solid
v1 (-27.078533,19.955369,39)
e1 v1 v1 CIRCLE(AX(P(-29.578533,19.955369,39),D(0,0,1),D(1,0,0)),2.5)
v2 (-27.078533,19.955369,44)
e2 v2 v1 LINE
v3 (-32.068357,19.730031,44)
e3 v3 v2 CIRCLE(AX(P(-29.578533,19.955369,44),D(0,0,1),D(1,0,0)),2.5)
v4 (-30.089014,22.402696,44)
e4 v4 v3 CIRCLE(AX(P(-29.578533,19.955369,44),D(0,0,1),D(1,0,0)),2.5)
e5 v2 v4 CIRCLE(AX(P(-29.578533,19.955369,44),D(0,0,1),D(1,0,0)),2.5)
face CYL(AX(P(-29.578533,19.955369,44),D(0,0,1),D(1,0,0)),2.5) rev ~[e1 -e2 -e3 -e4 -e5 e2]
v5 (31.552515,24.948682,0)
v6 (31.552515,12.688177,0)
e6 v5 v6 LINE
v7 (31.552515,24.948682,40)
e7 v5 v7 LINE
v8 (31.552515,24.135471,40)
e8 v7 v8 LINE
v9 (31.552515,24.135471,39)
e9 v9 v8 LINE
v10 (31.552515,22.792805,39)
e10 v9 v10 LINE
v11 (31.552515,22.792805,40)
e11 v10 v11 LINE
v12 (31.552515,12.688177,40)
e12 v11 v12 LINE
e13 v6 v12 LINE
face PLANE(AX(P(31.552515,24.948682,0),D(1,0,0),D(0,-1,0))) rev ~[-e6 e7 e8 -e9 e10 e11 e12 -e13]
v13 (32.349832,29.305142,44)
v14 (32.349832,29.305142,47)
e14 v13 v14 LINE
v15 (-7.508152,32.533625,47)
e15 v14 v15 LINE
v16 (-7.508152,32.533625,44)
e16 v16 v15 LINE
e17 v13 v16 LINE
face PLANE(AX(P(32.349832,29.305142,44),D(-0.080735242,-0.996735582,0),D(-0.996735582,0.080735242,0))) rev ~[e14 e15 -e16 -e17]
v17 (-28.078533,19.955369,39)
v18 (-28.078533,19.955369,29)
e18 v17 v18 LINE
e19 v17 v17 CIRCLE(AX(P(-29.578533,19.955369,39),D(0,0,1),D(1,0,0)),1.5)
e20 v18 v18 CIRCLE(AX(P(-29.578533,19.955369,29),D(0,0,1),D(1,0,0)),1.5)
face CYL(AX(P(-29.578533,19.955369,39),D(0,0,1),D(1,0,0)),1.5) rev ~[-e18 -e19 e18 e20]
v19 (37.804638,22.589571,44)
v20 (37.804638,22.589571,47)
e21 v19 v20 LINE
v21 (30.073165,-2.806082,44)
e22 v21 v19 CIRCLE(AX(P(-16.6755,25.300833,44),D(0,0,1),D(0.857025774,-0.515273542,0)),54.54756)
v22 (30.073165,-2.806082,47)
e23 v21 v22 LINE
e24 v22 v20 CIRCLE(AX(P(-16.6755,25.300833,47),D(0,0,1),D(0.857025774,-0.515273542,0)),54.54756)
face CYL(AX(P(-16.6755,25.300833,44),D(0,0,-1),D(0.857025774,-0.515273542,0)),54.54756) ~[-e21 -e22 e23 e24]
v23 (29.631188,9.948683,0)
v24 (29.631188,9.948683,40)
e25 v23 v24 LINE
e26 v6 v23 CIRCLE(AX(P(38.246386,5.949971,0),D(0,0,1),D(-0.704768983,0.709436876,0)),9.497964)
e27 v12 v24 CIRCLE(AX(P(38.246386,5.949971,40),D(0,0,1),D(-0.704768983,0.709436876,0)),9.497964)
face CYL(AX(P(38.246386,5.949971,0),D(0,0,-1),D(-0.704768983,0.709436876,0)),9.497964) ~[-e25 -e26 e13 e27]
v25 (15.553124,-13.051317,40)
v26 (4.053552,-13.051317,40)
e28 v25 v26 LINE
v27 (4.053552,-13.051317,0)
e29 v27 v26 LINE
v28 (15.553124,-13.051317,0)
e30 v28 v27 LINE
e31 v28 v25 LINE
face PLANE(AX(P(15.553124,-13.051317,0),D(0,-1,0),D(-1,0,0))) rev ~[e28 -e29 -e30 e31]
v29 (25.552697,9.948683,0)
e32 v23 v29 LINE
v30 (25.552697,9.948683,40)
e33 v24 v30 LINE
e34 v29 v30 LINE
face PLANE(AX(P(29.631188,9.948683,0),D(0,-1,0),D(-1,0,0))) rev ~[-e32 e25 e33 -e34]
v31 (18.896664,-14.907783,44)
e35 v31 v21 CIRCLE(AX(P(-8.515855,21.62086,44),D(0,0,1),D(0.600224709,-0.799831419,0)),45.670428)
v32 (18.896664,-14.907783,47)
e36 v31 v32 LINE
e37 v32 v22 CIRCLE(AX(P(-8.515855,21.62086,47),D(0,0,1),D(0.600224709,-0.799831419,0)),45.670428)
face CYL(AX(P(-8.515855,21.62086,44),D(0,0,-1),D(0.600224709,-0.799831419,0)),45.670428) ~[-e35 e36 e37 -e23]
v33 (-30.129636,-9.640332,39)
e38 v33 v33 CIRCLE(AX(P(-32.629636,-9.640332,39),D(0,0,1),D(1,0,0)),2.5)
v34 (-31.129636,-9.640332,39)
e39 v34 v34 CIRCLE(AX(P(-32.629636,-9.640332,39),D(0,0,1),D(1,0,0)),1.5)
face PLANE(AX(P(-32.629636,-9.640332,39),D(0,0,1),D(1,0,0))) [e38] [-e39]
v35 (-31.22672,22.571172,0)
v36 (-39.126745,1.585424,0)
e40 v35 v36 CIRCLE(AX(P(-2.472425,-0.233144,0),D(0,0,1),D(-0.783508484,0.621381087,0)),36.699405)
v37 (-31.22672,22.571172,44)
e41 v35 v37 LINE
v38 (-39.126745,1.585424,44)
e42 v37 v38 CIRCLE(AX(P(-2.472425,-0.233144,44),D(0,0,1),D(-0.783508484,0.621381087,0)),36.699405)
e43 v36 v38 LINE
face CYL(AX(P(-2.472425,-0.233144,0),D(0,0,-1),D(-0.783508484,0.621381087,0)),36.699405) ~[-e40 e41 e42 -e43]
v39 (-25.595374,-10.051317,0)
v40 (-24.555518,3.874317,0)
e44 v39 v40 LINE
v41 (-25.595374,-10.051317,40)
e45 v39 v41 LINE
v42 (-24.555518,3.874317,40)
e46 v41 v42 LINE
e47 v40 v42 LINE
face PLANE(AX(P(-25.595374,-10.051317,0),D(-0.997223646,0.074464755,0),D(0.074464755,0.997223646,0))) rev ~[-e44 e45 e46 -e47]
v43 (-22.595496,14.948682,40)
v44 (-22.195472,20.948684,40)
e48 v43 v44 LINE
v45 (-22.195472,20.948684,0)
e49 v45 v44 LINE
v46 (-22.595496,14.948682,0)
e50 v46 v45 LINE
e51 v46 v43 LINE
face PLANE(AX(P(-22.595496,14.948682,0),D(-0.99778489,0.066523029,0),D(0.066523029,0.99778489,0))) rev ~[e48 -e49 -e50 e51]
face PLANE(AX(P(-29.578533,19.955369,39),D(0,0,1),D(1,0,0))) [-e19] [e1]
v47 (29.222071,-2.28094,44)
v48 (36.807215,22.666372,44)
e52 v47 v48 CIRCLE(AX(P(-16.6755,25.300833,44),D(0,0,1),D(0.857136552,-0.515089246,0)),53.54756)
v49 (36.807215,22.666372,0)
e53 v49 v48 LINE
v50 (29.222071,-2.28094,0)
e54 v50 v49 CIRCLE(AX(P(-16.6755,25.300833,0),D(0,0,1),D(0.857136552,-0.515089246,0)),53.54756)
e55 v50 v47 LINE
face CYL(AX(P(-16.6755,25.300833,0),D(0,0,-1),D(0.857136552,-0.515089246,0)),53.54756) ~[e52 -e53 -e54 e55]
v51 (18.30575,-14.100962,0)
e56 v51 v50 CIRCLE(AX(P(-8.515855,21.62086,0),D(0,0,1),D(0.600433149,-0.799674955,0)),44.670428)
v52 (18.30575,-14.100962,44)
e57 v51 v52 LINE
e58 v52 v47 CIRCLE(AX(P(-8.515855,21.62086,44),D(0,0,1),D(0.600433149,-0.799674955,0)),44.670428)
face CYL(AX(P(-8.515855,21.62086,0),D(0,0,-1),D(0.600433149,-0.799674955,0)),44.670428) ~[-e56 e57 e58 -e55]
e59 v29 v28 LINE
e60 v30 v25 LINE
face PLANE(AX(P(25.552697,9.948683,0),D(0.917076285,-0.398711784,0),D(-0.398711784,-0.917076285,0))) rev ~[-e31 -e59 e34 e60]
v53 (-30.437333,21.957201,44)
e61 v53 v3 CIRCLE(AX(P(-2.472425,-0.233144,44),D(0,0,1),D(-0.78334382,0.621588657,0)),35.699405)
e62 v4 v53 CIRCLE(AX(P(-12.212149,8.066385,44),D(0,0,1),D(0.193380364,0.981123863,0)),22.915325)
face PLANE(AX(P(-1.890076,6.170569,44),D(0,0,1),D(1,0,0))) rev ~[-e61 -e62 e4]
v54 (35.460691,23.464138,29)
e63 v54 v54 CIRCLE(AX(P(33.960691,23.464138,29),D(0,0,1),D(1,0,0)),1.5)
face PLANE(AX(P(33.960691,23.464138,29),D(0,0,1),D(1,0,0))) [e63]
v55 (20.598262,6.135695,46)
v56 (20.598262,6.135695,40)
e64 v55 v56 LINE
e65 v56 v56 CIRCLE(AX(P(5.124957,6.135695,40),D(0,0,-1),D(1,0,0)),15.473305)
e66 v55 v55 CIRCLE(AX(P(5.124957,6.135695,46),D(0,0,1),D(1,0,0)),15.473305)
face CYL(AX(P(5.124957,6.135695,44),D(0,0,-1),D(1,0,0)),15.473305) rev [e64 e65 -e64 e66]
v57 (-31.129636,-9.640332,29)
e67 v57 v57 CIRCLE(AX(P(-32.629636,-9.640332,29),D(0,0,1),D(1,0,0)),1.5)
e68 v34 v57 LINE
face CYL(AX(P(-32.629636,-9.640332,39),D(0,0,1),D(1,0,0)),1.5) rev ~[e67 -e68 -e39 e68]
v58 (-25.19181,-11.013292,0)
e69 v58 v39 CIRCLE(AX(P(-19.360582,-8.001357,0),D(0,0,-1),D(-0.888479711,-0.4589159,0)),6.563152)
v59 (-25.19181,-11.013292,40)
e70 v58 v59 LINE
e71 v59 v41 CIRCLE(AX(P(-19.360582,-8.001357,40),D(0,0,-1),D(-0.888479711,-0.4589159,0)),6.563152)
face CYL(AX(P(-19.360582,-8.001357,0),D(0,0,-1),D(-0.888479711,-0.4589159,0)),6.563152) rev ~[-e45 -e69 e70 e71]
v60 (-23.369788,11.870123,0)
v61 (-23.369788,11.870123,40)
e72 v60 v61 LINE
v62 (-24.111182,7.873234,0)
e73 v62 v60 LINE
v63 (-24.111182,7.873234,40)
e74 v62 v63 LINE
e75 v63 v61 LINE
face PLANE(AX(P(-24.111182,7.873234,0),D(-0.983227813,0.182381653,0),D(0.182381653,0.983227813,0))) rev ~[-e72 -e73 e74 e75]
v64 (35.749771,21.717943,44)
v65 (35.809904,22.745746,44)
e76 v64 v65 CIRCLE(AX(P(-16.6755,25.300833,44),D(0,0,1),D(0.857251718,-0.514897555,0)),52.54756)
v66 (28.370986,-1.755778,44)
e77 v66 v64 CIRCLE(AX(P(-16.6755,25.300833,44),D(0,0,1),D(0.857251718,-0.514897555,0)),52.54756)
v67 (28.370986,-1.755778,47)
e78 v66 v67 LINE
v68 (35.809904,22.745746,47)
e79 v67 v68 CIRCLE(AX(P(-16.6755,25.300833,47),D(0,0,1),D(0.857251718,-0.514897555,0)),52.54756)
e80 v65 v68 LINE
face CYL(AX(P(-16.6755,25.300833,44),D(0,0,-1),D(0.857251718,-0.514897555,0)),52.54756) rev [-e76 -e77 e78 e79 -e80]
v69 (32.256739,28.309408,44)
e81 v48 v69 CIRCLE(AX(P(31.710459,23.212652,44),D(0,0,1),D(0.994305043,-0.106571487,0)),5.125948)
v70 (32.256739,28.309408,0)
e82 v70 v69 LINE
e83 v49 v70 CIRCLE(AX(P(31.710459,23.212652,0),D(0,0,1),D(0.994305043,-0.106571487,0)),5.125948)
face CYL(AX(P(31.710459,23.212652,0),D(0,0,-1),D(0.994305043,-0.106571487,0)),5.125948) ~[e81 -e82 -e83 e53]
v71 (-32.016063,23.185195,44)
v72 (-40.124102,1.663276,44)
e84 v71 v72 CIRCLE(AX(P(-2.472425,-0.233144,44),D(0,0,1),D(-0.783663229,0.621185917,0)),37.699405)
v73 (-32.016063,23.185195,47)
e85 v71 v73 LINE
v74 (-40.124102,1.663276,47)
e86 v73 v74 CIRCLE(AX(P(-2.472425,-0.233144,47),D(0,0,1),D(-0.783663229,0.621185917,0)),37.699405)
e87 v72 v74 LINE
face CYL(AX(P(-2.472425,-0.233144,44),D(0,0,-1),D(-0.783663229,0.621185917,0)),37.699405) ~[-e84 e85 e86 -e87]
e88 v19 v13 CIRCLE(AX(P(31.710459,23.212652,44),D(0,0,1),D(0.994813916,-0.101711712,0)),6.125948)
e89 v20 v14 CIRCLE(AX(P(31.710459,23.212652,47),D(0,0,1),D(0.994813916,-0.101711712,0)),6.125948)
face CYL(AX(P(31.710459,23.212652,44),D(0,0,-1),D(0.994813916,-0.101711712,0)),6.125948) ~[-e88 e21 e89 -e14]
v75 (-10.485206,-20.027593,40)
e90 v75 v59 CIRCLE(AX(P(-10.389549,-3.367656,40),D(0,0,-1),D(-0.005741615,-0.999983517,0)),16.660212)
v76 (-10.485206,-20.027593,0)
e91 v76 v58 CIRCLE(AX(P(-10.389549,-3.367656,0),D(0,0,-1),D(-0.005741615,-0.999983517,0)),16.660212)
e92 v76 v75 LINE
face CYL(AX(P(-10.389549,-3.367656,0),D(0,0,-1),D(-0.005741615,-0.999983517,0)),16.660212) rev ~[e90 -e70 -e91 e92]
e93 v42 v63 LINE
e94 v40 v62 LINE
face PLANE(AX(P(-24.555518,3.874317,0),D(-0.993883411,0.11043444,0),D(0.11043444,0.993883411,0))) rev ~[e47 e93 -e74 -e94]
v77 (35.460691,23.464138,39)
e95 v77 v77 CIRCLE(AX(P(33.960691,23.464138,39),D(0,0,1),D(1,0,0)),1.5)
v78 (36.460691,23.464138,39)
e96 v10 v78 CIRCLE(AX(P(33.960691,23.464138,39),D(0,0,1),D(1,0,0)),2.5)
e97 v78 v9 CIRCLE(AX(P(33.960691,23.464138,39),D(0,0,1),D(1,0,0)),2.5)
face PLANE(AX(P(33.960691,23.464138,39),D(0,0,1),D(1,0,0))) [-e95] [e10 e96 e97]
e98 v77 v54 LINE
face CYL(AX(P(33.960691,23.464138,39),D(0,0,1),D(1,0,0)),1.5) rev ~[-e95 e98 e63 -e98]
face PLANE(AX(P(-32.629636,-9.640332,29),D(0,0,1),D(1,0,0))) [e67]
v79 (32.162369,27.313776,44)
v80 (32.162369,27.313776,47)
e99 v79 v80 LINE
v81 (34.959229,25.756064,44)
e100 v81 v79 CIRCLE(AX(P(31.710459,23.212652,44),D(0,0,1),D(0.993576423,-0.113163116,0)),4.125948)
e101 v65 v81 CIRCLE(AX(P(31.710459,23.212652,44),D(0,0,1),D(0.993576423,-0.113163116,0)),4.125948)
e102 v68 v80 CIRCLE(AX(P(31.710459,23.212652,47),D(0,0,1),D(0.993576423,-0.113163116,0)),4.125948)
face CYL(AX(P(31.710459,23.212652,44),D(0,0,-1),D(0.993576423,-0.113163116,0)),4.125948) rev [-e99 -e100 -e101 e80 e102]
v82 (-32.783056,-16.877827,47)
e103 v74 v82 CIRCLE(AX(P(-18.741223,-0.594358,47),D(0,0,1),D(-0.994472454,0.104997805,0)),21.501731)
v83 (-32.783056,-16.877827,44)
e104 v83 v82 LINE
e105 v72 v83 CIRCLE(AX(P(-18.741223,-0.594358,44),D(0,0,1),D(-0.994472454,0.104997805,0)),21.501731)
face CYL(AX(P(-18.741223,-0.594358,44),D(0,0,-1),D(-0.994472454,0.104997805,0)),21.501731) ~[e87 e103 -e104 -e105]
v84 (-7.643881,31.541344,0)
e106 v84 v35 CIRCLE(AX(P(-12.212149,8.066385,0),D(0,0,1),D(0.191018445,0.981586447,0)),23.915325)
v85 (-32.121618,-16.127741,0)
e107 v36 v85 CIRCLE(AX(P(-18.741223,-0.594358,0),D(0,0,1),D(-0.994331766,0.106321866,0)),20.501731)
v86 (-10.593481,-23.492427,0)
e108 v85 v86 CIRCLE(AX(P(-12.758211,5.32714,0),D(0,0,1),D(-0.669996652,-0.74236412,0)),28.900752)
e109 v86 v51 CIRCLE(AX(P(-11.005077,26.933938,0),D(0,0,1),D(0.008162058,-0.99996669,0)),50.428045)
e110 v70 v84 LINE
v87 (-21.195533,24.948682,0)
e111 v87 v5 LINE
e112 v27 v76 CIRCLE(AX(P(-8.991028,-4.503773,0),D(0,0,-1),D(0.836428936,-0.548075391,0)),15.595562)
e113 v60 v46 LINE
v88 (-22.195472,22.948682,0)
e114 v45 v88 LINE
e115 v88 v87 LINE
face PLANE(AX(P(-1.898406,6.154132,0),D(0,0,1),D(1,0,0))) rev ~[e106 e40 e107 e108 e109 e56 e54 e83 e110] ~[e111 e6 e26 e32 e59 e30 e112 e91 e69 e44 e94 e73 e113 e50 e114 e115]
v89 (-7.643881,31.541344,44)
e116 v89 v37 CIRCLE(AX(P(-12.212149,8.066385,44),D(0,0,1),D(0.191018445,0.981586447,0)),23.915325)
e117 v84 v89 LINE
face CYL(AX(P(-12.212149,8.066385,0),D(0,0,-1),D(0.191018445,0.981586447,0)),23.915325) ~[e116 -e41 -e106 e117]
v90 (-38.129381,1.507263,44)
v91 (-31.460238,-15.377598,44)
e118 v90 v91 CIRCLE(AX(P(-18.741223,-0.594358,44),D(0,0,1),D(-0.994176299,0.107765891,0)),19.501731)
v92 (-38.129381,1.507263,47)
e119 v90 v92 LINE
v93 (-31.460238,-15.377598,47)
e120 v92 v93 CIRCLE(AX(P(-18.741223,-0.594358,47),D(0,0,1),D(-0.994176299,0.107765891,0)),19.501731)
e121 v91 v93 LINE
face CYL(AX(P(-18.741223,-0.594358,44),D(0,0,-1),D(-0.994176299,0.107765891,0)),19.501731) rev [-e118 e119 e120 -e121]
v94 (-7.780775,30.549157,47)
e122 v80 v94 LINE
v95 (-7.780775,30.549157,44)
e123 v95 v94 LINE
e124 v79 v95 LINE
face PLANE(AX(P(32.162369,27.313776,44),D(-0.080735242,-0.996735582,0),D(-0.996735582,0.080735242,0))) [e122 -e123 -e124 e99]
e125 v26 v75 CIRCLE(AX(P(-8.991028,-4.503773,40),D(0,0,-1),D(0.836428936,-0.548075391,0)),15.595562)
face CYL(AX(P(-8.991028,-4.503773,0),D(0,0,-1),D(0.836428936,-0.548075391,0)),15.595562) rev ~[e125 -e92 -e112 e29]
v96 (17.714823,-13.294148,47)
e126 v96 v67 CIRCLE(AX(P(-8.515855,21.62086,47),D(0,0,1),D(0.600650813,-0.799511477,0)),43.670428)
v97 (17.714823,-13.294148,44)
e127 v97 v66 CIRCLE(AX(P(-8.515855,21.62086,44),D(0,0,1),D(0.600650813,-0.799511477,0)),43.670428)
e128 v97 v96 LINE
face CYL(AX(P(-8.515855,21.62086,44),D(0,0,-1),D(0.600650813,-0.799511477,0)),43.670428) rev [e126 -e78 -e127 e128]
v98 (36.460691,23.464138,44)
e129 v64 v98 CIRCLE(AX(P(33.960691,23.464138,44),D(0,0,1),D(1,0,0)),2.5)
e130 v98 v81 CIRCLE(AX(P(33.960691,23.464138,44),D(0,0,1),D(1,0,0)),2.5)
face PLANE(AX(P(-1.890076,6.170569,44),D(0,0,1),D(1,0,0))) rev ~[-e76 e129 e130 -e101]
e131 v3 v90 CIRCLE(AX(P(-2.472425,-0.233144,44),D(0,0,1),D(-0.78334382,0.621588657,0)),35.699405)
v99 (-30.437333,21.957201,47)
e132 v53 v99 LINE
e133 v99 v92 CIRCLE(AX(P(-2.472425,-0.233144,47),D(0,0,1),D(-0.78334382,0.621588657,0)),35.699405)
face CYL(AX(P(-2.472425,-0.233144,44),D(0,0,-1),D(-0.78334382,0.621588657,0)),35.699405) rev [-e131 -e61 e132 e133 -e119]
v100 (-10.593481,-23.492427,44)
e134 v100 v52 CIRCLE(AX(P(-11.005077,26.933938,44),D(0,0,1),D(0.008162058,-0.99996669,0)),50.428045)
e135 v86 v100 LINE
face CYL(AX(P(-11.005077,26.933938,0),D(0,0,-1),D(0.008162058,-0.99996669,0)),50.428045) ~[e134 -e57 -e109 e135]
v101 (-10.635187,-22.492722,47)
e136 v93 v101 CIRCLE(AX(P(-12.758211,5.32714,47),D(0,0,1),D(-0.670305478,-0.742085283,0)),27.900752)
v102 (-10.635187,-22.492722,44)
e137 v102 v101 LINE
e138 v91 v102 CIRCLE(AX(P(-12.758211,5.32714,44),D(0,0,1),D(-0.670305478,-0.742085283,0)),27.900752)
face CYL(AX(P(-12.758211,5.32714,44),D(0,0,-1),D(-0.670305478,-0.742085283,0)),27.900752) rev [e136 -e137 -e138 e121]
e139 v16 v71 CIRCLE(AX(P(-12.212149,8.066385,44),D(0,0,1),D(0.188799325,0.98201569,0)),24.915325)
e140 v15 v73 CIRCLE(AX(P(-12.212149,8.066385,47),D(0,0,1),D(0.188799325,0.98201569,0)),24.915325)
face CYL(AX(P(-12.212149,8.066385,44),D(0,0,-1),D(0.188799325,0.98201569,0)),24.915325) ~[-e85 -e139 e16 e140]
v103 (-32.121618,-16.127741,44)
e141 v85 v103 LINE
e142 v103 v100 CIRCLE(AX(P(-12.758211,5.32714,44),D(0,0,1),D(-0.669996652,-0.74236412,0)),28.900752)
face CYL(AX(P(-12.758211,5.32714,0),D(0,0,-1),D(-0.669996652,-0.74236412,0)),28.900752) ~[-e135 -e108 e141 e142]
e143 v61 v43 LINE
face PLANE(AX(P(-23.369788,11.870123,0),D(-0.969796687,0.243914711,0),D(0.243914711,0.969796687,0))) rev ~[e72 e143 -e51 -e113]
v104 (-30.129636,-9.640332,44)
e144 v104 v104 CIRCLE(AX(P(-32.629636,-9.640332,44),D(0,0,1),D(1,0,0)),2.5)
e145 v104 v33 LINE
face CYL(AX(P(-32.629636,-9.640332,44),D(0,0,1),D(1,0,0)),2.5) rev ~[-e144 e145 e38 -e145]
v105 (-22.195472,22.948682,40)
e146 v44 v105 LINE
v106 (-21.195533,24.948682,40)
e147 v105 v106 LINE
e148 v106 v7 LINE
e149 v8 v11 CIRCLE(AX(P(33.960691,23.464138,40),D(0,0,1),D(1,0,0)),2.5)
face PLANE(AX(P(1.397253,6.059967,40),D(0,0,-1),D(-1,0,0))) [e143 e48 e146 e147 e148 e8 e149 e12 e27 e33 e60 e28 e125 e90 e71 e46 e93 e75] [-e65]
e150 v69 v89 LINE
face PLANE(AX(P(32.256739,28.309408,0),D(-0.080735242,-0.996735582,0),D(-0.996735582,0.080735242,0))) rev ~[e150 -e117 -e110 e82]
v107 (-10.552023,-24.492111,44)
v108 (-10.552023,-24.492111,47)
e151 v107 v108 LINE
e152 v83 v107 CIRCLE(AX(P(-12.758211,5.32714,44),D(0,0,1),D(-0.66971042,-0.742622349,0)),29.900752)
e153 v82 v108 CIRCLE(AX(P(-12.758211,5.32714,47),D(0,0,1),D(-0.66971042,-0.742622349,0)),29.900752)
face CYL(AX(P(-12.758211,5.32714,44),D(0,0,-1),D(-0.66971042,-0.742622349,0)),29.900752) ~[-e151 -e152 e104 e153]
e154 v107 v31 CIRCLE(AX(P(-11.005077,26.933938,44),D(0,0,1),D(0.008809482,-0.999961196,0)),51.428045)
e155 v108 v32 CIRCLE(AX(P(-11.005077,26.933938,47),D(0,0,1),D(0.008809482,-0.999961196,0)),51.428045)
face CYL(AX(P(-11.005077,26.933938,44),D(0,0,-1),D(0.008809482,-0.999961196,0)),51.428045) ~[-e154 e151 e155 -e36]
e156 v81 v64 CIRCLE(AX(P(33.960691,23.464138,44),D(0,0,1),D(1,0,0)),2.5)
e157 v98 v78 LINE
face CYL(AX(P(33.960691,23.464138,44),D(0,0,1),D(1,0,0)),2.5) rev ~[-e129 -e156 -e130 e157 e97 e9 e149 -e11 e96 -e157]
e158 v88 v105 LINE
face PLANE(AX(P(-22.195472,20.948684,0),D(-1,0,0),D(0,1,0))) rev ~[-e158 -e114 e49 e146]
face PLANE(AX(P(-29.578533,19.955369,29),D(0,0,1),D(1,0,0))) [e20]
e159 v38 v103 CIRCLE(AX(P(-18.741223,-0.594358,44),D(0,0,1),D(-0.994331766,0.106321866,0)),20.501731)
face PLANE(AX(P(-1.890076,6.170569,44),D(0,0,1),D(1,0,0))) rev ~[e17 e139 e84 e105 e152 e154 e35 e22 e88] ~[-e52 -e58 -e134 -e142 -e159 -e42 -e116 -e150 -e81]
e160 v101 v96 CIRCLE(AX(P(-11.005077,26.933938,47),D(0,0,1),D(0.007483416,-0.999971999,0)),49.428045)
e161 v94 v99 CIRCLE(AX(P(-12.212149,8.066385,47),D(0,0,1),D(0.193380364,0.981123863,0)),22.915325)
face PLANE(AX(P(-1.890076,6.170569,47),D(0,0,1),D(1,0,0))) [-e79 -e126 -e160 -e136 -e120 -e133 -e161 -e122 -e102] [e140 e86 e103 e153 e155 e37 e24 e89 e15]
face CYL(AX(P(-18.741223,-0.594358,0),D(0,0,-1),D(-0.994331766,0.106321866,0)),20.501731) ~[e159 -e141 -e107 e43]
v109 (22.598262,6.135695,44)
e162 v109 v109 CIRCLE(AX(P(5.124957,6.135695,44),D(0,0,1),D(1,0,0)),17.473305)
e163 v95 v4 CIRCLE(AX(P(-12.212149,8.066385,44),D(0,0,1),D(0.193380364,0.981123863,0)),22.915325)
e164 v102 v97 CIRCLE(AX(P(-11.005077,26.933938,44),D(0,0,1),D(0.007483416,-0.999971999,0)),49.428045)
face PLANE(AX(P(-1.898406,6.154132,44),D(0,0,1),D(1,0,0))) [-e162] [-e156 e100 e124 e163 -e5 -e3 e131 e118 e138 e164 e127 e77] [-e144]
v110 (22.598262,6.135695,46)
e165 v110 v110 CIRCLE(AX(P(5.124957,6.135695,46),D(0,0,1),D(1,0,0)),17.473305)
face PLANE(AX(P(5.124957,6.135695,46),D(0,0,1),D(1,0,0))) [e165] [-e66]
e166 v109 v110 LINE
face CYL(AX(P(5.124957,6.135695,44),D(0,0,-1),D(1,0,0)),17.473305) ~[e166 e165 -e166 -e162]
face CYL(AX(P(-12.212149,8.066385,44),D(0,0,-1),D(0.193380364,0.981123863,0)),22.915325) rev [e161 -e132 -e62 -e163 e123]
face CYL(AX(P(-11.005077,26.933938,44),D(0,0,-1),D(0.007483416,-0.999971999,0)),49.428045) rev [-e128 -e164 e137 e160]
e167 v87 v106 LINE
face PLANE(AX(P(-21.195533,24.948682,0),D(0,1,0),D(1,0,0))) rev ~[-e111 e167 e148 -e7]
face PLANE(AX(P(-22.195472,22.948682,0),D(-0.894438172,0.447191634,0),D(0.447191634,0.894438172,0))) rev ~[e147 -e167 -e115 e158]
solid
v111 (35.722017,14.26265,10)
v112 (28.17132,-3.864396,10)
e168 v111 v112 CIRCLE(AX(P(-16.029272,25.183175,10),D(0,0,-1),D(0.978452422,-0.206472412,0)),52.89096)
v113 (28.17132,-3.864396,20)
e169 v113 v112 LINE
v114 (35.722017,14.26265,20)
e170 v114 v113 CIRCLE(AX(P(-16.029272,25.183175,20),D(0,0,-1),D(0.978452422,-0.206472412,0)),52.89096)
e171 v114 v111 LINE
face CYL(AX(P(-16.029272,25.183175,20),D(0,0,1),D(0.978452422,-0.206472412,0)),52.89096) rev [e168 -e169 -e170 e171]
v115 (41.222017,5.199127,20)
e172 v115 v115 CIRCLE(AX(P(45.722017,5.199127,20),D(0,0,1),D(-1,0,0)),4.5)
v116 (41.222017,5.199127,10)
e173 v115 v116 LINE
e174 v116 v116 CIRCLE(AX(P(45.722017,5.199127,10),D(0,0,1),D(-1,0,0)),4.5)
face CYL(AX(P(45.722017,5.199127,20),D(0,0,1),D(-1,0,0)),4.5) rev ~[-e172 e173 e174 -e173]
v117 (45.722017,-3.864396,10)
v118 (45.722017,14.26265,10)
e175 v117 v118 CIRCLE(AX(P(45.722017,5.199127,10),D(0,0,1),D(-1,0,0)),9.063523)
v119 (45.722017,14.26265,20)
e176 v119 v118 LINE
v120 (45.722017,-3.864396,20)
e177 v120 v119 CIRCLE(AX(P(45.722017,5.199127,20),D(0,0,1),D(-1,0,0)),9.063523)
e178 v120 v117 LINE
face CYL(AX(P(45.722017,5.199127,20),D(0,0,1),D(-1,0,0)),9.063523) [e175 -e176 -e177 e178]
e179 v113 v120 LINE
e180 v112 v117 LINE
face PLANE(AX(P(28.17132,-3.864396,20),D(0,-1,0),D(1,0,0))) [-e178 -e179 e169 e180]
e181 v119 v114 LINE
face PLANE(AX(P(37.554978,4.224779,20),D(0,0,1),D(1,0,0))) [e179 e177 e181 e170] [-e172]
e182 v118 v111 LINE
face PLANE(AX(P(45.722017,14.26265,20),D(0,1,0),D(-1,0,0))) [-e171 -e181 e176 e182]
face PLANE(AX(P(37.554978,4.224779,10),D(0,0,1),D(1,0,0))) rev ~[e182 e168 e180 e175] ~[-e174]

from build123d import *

# Parameters (mm, degrees)
SKETCH5_R           = 15.473305228
BOSS_EXTRUDE2_DEPTH = 44
SKETCH12_R          = 17.473305228
SKETCH12_R_2        = 15.473305228
EXTRUDE_THIN3_DEPTH = 2
CUT_EXTRUDE1_DEPTH  = 40
SKETCH20_R          = 2.5
CUT_EXTRUDE4_DEPTH  = 5
SKETCH21_R          = 1.5
CUT_EXTRUDE5_DEPTH  = 10
EXTRUDE_THIN4_DEPTH = 3
SKETCH25_R          = 9.063523101
SKETCH25_R_2        = 4.5
BOSS_EXTRUDE4_DEPTH = 10
BOSS_EXTRUDE5_DEPTH = 10


with BuildPart() as part:
    # Sketch5 → Boss-Extrude2 (new body)
    with BuildSketch(Plane.XY):
        with BuildLine():
            Line((32.256739142, 28.309407593), (-7.64388079, 31.541344196))
            ThreePointArc((-7.64388079, 31.541344196), (-20.714496622, 30.419301273), (-31.22672033, 22.571172119))
            ThreePointArc((-31.22672033, 22.571172119), (-36.818780536, 12.696442206), (-39.126744744, 1.585423828))
            ThreePointArc((-39.126744744, 1.585423828), (-37.806199642, -8.134094121), (-32.121617791, -16.127741455))
            ThreePointArc((-32.121617791, -16.127741455), (-22.11279616, -22.017790129), (-10.593480584, -23.492426514))
            ThreePointArc((-10.593480584, -23.492426514), (4.580349487, -21.025233446), (18.305750373, -14.10096228))
            ThreePointArc((18.305750373, -14.10096228), (24.300474949, -8.686492062), (29.222071174, -2.280939697))
            ThreePointArc((29.222071174, -2.280939697), (34.556349639, 9.723965473), (36.807215217, 22.666371704))
            ThreePointArc((36.807215217, 22.666371704), (35.700688178, 26.430324101), (32.256739142, 28.309407593))
        make_face()
        with Locations((5.124956693, 6.135695376)):
            Circle(SKETCH5_R, mode=Mode.SUBTRACT)
    extrude(amount=BOSS_EXTRUDE2_DEPTH)

    # Sketch12 → Extrude-Thin3 (add)
    with BuildSketch(Plane.XY.offset(44)):
        with Locations((5.124956693, 6.135695376)):
            Circle(SKETCH12_R)
        with Locations((5.124956693, 6.135695376)):
            Circle(SKETCH12_R_2, mode=Mode.SUBTRACT)
    extrude(amount=EXTRUDE_THIN3_DEPTH)

    # Sketch16 → Cut-Extrude1 (cut)
    with BuildSketch(Plane(origin=(0, 0, 0), x_dir=(-1, 0, 0), z_dir=(0, 0, -1))):
        with BuildLine():
            Line((22.195471785, 22.948681705), (21.19553282, 24.948682404))
            Line((21.19553282, 24.948682404), (-31.552515336, 24.948682404))
            Line((-31.552515336, 24.948682404), (-31.552515336, 12.688177276))
            ThreePointArc((-31.552515336, 12.688177276), (-30.470262259, 11.403706176), (-29.631188371, 9.948682897))
            Line((-29.631188371, 9.948682897), (-25.55269716, 9.948682897))
            Line((-25.55269716, 9.948682897), (-15.553124406, -13.051317103))
            Line((-15.553124406, -13.051317103), (-4.053551652, -13.051317103))
            ThreePointArc((-4.053551652, -13.051317103), (2.244172832, -18.564410088), (10.485205672, -20.0275935))
            ThreePointArc((10.485205672, -20.0275935), (19.095948524, -17.571925714), (25.191809676, -11.0132922))
            ThreePointArc((25.191809676, -11.0132922), (25.412735131, -10.540335552), (25.595374129, -10.051317103))
            Line((25.595374129, -10.051317103), (24.555518172, 3.874317282))
            Line((24.555518172, 3.874317282), (24.111182234, 7.873233908))
            Line((24.111182234, 7.873233908), (23.369788191, 11.870123022))
            Line((23.369788191, 11.870123022), (22.595496199, 14.948681944))
            Line((22.595496199, 14.948681944), (22.195471785, 20.94868409))
            Line((22.195471785, 20.94868409), (22.195471785, 22.948681705))
        make_face()
    extrude(amount=-CUT_EXTRUDE1_DEPTH, mode=Mode.SUBTRACT)

    # Sketch20 → Cut-Extrude4 (cut)
    with BuildSketch(Plane.XY.offset(44)):
        with Locations((33.960691328, 23.464138043)):
            Circle(SKETCH20_R)
        with Locations((-29.578532791, 19.955369365)):
            Circle(SKETCH20_R)
        with Locations((-32.62963599, -9.640331665)):
            Circle(SKETCH20_R)
    extrude(amount=-CUT_EXTRUDE4_DEPTH, mode=Mode.SUBTRACT)

    # Sketch21 → Cut-Extrude5 (cut)
    with BuildSketch(Plane.XY.offset(39)):
        with Locations((33.960691328, 23.464138043)):
            Circle(SKETCH21_R)
        with Locations((-29.578532791, 19.955369365)):
            Circle(SKETCH21_R)
        with Locations((-32.62963599, -9.640331665)):
            Circle(SKETCH21_R)
    extrude(amount=-CUT_EXTRUDE5_DEPTH, mode=Mode.SUBTRACT)

    # Sketch22 → Extrude-Thin4 (add)
    with BuildSketch(Plane.XY.offset(44)):
        with BuildLine():
            ThreePointArc((37.804637591, 22.589570952), (36.465446402, 27.074948387), (32.349832306, 29.305142187))
            Line((32.349832306, 29.305142187), (-7.508152433, 32.533625355))
            ThreePointArc((-7.508152433, 32.533625355), (-21.0919102, 31.345630531), (-32.016062598, 23.185195421))
            ThreePointArc((-32.016062598, 23.185195421), (-37.751325392, 13.057617284), (-40.124101539, 1.663276075))
            ThreePointArc((-40.124101539, 1.663276075), (-38.732987991, -8.509770105), (-32.783055883, -16.877826833))
            ThreePointArc((-32.783055883, -16.877826833), (-22.446887925, -22.960392779), (-10.552022778, -24.492110653))
            ThreePointArc((-10.552022778, -24.492110653), (4.910897112, -21.969287876), (18.896663991, -14.907783002))
            ThreePointArc((18.896663991, -14.907783002), (25.035055299, -9.365013776), (30.073165065, -2.806081812))
            ThreePointArc((30.073165065, -2.806081812), (35.507374746, 9.414237288), (37.804637591, 22.589570952))
        make_face()
        with BuildLine():
            ThreePointArc((35.809903928, 22.745746473), (34.934653853, 25.78714501), (32.162368837, 27.313776446))
            Line((32.162368837, 27.313776446), (-7.780775078, 30.549157478))
            ThreePointArc((-7.780775078, 30.549157478), (-20.337586242, 29.492756605), (-30.437333452, 21.957201169))
            ThreePointArc((-30.437333452, 21.957201169), (-35.886275494, 12.335154333), (-38.129381097, 1.507262942))
            ThreePointArc((-38.129381097, 1.507262942), (-36.879366836, -7.758521051), (-31.460237604, -15.377597571))
            ThreePointArc((-31.460237604, -15.377597571), (-21.778858305, -21.07513046), (-10.635186571, -22.492722237))
            ThreePointArc((-10.635186571, -22.492722237), (4.249673531, -20.08121001), (17.714822717, -13.294148135))
            ThreePointArc((17.714822717, -13.294148135), (23.565896834, -8.007967929), (28.370986318, -1.755777548))
            ThreePointArc((28.370986318, -1.755777548), (33.605695031, 10.034938826), (35.809903928, 22.745746473))
        make_face(mode=Mode.SUBTRACT)
    extrude(amount=EXTRUDE_THIN4_DEPTH)


with BuildPart() as body_2:
    # Sketch25 → Boss-Extrude4 (new body)
    with BuildSketch(Plane.XY.offset(20)):
        with Locations(Location((45.722016575, 5.199127346, 0), (0, 0, 180))):
            Circle(SKETCH25_R)
        with Locations(Location((45.722016575, 5.199127346, 0), (0, 0, 180))):
            Circle(SKETCH25_R_2, mode=Mode.SUBTRACT)
    extrude(amount=-BOSS_EXTRUDE4_DEPTH)

    # Sketch26 → Boss-Extrude5 (add)
    with BuildSketch(Plane.XY.offset(20)):
        with BuildLine():
            Line((45.722016575, 14.262650447), (35.722016575, 14.262650447))
            ThreePointArc((35.722016575, 14.262650447), (32.795294741, 4.845637931), (28.17132041, -3.864395755))
            Line((28.17132041, -3.864395755), (45.722016575, -3.864395755))
            ThreePointArc((45.722016575, -3.864395755), (36.658493473, 5.199127346), (45.722016575, 14.262650447))
        make_face()
    extrude(amount=-BOSS_EXTRUDE5_DEPTH)


solid = Compound([part.part, body_2.part])
